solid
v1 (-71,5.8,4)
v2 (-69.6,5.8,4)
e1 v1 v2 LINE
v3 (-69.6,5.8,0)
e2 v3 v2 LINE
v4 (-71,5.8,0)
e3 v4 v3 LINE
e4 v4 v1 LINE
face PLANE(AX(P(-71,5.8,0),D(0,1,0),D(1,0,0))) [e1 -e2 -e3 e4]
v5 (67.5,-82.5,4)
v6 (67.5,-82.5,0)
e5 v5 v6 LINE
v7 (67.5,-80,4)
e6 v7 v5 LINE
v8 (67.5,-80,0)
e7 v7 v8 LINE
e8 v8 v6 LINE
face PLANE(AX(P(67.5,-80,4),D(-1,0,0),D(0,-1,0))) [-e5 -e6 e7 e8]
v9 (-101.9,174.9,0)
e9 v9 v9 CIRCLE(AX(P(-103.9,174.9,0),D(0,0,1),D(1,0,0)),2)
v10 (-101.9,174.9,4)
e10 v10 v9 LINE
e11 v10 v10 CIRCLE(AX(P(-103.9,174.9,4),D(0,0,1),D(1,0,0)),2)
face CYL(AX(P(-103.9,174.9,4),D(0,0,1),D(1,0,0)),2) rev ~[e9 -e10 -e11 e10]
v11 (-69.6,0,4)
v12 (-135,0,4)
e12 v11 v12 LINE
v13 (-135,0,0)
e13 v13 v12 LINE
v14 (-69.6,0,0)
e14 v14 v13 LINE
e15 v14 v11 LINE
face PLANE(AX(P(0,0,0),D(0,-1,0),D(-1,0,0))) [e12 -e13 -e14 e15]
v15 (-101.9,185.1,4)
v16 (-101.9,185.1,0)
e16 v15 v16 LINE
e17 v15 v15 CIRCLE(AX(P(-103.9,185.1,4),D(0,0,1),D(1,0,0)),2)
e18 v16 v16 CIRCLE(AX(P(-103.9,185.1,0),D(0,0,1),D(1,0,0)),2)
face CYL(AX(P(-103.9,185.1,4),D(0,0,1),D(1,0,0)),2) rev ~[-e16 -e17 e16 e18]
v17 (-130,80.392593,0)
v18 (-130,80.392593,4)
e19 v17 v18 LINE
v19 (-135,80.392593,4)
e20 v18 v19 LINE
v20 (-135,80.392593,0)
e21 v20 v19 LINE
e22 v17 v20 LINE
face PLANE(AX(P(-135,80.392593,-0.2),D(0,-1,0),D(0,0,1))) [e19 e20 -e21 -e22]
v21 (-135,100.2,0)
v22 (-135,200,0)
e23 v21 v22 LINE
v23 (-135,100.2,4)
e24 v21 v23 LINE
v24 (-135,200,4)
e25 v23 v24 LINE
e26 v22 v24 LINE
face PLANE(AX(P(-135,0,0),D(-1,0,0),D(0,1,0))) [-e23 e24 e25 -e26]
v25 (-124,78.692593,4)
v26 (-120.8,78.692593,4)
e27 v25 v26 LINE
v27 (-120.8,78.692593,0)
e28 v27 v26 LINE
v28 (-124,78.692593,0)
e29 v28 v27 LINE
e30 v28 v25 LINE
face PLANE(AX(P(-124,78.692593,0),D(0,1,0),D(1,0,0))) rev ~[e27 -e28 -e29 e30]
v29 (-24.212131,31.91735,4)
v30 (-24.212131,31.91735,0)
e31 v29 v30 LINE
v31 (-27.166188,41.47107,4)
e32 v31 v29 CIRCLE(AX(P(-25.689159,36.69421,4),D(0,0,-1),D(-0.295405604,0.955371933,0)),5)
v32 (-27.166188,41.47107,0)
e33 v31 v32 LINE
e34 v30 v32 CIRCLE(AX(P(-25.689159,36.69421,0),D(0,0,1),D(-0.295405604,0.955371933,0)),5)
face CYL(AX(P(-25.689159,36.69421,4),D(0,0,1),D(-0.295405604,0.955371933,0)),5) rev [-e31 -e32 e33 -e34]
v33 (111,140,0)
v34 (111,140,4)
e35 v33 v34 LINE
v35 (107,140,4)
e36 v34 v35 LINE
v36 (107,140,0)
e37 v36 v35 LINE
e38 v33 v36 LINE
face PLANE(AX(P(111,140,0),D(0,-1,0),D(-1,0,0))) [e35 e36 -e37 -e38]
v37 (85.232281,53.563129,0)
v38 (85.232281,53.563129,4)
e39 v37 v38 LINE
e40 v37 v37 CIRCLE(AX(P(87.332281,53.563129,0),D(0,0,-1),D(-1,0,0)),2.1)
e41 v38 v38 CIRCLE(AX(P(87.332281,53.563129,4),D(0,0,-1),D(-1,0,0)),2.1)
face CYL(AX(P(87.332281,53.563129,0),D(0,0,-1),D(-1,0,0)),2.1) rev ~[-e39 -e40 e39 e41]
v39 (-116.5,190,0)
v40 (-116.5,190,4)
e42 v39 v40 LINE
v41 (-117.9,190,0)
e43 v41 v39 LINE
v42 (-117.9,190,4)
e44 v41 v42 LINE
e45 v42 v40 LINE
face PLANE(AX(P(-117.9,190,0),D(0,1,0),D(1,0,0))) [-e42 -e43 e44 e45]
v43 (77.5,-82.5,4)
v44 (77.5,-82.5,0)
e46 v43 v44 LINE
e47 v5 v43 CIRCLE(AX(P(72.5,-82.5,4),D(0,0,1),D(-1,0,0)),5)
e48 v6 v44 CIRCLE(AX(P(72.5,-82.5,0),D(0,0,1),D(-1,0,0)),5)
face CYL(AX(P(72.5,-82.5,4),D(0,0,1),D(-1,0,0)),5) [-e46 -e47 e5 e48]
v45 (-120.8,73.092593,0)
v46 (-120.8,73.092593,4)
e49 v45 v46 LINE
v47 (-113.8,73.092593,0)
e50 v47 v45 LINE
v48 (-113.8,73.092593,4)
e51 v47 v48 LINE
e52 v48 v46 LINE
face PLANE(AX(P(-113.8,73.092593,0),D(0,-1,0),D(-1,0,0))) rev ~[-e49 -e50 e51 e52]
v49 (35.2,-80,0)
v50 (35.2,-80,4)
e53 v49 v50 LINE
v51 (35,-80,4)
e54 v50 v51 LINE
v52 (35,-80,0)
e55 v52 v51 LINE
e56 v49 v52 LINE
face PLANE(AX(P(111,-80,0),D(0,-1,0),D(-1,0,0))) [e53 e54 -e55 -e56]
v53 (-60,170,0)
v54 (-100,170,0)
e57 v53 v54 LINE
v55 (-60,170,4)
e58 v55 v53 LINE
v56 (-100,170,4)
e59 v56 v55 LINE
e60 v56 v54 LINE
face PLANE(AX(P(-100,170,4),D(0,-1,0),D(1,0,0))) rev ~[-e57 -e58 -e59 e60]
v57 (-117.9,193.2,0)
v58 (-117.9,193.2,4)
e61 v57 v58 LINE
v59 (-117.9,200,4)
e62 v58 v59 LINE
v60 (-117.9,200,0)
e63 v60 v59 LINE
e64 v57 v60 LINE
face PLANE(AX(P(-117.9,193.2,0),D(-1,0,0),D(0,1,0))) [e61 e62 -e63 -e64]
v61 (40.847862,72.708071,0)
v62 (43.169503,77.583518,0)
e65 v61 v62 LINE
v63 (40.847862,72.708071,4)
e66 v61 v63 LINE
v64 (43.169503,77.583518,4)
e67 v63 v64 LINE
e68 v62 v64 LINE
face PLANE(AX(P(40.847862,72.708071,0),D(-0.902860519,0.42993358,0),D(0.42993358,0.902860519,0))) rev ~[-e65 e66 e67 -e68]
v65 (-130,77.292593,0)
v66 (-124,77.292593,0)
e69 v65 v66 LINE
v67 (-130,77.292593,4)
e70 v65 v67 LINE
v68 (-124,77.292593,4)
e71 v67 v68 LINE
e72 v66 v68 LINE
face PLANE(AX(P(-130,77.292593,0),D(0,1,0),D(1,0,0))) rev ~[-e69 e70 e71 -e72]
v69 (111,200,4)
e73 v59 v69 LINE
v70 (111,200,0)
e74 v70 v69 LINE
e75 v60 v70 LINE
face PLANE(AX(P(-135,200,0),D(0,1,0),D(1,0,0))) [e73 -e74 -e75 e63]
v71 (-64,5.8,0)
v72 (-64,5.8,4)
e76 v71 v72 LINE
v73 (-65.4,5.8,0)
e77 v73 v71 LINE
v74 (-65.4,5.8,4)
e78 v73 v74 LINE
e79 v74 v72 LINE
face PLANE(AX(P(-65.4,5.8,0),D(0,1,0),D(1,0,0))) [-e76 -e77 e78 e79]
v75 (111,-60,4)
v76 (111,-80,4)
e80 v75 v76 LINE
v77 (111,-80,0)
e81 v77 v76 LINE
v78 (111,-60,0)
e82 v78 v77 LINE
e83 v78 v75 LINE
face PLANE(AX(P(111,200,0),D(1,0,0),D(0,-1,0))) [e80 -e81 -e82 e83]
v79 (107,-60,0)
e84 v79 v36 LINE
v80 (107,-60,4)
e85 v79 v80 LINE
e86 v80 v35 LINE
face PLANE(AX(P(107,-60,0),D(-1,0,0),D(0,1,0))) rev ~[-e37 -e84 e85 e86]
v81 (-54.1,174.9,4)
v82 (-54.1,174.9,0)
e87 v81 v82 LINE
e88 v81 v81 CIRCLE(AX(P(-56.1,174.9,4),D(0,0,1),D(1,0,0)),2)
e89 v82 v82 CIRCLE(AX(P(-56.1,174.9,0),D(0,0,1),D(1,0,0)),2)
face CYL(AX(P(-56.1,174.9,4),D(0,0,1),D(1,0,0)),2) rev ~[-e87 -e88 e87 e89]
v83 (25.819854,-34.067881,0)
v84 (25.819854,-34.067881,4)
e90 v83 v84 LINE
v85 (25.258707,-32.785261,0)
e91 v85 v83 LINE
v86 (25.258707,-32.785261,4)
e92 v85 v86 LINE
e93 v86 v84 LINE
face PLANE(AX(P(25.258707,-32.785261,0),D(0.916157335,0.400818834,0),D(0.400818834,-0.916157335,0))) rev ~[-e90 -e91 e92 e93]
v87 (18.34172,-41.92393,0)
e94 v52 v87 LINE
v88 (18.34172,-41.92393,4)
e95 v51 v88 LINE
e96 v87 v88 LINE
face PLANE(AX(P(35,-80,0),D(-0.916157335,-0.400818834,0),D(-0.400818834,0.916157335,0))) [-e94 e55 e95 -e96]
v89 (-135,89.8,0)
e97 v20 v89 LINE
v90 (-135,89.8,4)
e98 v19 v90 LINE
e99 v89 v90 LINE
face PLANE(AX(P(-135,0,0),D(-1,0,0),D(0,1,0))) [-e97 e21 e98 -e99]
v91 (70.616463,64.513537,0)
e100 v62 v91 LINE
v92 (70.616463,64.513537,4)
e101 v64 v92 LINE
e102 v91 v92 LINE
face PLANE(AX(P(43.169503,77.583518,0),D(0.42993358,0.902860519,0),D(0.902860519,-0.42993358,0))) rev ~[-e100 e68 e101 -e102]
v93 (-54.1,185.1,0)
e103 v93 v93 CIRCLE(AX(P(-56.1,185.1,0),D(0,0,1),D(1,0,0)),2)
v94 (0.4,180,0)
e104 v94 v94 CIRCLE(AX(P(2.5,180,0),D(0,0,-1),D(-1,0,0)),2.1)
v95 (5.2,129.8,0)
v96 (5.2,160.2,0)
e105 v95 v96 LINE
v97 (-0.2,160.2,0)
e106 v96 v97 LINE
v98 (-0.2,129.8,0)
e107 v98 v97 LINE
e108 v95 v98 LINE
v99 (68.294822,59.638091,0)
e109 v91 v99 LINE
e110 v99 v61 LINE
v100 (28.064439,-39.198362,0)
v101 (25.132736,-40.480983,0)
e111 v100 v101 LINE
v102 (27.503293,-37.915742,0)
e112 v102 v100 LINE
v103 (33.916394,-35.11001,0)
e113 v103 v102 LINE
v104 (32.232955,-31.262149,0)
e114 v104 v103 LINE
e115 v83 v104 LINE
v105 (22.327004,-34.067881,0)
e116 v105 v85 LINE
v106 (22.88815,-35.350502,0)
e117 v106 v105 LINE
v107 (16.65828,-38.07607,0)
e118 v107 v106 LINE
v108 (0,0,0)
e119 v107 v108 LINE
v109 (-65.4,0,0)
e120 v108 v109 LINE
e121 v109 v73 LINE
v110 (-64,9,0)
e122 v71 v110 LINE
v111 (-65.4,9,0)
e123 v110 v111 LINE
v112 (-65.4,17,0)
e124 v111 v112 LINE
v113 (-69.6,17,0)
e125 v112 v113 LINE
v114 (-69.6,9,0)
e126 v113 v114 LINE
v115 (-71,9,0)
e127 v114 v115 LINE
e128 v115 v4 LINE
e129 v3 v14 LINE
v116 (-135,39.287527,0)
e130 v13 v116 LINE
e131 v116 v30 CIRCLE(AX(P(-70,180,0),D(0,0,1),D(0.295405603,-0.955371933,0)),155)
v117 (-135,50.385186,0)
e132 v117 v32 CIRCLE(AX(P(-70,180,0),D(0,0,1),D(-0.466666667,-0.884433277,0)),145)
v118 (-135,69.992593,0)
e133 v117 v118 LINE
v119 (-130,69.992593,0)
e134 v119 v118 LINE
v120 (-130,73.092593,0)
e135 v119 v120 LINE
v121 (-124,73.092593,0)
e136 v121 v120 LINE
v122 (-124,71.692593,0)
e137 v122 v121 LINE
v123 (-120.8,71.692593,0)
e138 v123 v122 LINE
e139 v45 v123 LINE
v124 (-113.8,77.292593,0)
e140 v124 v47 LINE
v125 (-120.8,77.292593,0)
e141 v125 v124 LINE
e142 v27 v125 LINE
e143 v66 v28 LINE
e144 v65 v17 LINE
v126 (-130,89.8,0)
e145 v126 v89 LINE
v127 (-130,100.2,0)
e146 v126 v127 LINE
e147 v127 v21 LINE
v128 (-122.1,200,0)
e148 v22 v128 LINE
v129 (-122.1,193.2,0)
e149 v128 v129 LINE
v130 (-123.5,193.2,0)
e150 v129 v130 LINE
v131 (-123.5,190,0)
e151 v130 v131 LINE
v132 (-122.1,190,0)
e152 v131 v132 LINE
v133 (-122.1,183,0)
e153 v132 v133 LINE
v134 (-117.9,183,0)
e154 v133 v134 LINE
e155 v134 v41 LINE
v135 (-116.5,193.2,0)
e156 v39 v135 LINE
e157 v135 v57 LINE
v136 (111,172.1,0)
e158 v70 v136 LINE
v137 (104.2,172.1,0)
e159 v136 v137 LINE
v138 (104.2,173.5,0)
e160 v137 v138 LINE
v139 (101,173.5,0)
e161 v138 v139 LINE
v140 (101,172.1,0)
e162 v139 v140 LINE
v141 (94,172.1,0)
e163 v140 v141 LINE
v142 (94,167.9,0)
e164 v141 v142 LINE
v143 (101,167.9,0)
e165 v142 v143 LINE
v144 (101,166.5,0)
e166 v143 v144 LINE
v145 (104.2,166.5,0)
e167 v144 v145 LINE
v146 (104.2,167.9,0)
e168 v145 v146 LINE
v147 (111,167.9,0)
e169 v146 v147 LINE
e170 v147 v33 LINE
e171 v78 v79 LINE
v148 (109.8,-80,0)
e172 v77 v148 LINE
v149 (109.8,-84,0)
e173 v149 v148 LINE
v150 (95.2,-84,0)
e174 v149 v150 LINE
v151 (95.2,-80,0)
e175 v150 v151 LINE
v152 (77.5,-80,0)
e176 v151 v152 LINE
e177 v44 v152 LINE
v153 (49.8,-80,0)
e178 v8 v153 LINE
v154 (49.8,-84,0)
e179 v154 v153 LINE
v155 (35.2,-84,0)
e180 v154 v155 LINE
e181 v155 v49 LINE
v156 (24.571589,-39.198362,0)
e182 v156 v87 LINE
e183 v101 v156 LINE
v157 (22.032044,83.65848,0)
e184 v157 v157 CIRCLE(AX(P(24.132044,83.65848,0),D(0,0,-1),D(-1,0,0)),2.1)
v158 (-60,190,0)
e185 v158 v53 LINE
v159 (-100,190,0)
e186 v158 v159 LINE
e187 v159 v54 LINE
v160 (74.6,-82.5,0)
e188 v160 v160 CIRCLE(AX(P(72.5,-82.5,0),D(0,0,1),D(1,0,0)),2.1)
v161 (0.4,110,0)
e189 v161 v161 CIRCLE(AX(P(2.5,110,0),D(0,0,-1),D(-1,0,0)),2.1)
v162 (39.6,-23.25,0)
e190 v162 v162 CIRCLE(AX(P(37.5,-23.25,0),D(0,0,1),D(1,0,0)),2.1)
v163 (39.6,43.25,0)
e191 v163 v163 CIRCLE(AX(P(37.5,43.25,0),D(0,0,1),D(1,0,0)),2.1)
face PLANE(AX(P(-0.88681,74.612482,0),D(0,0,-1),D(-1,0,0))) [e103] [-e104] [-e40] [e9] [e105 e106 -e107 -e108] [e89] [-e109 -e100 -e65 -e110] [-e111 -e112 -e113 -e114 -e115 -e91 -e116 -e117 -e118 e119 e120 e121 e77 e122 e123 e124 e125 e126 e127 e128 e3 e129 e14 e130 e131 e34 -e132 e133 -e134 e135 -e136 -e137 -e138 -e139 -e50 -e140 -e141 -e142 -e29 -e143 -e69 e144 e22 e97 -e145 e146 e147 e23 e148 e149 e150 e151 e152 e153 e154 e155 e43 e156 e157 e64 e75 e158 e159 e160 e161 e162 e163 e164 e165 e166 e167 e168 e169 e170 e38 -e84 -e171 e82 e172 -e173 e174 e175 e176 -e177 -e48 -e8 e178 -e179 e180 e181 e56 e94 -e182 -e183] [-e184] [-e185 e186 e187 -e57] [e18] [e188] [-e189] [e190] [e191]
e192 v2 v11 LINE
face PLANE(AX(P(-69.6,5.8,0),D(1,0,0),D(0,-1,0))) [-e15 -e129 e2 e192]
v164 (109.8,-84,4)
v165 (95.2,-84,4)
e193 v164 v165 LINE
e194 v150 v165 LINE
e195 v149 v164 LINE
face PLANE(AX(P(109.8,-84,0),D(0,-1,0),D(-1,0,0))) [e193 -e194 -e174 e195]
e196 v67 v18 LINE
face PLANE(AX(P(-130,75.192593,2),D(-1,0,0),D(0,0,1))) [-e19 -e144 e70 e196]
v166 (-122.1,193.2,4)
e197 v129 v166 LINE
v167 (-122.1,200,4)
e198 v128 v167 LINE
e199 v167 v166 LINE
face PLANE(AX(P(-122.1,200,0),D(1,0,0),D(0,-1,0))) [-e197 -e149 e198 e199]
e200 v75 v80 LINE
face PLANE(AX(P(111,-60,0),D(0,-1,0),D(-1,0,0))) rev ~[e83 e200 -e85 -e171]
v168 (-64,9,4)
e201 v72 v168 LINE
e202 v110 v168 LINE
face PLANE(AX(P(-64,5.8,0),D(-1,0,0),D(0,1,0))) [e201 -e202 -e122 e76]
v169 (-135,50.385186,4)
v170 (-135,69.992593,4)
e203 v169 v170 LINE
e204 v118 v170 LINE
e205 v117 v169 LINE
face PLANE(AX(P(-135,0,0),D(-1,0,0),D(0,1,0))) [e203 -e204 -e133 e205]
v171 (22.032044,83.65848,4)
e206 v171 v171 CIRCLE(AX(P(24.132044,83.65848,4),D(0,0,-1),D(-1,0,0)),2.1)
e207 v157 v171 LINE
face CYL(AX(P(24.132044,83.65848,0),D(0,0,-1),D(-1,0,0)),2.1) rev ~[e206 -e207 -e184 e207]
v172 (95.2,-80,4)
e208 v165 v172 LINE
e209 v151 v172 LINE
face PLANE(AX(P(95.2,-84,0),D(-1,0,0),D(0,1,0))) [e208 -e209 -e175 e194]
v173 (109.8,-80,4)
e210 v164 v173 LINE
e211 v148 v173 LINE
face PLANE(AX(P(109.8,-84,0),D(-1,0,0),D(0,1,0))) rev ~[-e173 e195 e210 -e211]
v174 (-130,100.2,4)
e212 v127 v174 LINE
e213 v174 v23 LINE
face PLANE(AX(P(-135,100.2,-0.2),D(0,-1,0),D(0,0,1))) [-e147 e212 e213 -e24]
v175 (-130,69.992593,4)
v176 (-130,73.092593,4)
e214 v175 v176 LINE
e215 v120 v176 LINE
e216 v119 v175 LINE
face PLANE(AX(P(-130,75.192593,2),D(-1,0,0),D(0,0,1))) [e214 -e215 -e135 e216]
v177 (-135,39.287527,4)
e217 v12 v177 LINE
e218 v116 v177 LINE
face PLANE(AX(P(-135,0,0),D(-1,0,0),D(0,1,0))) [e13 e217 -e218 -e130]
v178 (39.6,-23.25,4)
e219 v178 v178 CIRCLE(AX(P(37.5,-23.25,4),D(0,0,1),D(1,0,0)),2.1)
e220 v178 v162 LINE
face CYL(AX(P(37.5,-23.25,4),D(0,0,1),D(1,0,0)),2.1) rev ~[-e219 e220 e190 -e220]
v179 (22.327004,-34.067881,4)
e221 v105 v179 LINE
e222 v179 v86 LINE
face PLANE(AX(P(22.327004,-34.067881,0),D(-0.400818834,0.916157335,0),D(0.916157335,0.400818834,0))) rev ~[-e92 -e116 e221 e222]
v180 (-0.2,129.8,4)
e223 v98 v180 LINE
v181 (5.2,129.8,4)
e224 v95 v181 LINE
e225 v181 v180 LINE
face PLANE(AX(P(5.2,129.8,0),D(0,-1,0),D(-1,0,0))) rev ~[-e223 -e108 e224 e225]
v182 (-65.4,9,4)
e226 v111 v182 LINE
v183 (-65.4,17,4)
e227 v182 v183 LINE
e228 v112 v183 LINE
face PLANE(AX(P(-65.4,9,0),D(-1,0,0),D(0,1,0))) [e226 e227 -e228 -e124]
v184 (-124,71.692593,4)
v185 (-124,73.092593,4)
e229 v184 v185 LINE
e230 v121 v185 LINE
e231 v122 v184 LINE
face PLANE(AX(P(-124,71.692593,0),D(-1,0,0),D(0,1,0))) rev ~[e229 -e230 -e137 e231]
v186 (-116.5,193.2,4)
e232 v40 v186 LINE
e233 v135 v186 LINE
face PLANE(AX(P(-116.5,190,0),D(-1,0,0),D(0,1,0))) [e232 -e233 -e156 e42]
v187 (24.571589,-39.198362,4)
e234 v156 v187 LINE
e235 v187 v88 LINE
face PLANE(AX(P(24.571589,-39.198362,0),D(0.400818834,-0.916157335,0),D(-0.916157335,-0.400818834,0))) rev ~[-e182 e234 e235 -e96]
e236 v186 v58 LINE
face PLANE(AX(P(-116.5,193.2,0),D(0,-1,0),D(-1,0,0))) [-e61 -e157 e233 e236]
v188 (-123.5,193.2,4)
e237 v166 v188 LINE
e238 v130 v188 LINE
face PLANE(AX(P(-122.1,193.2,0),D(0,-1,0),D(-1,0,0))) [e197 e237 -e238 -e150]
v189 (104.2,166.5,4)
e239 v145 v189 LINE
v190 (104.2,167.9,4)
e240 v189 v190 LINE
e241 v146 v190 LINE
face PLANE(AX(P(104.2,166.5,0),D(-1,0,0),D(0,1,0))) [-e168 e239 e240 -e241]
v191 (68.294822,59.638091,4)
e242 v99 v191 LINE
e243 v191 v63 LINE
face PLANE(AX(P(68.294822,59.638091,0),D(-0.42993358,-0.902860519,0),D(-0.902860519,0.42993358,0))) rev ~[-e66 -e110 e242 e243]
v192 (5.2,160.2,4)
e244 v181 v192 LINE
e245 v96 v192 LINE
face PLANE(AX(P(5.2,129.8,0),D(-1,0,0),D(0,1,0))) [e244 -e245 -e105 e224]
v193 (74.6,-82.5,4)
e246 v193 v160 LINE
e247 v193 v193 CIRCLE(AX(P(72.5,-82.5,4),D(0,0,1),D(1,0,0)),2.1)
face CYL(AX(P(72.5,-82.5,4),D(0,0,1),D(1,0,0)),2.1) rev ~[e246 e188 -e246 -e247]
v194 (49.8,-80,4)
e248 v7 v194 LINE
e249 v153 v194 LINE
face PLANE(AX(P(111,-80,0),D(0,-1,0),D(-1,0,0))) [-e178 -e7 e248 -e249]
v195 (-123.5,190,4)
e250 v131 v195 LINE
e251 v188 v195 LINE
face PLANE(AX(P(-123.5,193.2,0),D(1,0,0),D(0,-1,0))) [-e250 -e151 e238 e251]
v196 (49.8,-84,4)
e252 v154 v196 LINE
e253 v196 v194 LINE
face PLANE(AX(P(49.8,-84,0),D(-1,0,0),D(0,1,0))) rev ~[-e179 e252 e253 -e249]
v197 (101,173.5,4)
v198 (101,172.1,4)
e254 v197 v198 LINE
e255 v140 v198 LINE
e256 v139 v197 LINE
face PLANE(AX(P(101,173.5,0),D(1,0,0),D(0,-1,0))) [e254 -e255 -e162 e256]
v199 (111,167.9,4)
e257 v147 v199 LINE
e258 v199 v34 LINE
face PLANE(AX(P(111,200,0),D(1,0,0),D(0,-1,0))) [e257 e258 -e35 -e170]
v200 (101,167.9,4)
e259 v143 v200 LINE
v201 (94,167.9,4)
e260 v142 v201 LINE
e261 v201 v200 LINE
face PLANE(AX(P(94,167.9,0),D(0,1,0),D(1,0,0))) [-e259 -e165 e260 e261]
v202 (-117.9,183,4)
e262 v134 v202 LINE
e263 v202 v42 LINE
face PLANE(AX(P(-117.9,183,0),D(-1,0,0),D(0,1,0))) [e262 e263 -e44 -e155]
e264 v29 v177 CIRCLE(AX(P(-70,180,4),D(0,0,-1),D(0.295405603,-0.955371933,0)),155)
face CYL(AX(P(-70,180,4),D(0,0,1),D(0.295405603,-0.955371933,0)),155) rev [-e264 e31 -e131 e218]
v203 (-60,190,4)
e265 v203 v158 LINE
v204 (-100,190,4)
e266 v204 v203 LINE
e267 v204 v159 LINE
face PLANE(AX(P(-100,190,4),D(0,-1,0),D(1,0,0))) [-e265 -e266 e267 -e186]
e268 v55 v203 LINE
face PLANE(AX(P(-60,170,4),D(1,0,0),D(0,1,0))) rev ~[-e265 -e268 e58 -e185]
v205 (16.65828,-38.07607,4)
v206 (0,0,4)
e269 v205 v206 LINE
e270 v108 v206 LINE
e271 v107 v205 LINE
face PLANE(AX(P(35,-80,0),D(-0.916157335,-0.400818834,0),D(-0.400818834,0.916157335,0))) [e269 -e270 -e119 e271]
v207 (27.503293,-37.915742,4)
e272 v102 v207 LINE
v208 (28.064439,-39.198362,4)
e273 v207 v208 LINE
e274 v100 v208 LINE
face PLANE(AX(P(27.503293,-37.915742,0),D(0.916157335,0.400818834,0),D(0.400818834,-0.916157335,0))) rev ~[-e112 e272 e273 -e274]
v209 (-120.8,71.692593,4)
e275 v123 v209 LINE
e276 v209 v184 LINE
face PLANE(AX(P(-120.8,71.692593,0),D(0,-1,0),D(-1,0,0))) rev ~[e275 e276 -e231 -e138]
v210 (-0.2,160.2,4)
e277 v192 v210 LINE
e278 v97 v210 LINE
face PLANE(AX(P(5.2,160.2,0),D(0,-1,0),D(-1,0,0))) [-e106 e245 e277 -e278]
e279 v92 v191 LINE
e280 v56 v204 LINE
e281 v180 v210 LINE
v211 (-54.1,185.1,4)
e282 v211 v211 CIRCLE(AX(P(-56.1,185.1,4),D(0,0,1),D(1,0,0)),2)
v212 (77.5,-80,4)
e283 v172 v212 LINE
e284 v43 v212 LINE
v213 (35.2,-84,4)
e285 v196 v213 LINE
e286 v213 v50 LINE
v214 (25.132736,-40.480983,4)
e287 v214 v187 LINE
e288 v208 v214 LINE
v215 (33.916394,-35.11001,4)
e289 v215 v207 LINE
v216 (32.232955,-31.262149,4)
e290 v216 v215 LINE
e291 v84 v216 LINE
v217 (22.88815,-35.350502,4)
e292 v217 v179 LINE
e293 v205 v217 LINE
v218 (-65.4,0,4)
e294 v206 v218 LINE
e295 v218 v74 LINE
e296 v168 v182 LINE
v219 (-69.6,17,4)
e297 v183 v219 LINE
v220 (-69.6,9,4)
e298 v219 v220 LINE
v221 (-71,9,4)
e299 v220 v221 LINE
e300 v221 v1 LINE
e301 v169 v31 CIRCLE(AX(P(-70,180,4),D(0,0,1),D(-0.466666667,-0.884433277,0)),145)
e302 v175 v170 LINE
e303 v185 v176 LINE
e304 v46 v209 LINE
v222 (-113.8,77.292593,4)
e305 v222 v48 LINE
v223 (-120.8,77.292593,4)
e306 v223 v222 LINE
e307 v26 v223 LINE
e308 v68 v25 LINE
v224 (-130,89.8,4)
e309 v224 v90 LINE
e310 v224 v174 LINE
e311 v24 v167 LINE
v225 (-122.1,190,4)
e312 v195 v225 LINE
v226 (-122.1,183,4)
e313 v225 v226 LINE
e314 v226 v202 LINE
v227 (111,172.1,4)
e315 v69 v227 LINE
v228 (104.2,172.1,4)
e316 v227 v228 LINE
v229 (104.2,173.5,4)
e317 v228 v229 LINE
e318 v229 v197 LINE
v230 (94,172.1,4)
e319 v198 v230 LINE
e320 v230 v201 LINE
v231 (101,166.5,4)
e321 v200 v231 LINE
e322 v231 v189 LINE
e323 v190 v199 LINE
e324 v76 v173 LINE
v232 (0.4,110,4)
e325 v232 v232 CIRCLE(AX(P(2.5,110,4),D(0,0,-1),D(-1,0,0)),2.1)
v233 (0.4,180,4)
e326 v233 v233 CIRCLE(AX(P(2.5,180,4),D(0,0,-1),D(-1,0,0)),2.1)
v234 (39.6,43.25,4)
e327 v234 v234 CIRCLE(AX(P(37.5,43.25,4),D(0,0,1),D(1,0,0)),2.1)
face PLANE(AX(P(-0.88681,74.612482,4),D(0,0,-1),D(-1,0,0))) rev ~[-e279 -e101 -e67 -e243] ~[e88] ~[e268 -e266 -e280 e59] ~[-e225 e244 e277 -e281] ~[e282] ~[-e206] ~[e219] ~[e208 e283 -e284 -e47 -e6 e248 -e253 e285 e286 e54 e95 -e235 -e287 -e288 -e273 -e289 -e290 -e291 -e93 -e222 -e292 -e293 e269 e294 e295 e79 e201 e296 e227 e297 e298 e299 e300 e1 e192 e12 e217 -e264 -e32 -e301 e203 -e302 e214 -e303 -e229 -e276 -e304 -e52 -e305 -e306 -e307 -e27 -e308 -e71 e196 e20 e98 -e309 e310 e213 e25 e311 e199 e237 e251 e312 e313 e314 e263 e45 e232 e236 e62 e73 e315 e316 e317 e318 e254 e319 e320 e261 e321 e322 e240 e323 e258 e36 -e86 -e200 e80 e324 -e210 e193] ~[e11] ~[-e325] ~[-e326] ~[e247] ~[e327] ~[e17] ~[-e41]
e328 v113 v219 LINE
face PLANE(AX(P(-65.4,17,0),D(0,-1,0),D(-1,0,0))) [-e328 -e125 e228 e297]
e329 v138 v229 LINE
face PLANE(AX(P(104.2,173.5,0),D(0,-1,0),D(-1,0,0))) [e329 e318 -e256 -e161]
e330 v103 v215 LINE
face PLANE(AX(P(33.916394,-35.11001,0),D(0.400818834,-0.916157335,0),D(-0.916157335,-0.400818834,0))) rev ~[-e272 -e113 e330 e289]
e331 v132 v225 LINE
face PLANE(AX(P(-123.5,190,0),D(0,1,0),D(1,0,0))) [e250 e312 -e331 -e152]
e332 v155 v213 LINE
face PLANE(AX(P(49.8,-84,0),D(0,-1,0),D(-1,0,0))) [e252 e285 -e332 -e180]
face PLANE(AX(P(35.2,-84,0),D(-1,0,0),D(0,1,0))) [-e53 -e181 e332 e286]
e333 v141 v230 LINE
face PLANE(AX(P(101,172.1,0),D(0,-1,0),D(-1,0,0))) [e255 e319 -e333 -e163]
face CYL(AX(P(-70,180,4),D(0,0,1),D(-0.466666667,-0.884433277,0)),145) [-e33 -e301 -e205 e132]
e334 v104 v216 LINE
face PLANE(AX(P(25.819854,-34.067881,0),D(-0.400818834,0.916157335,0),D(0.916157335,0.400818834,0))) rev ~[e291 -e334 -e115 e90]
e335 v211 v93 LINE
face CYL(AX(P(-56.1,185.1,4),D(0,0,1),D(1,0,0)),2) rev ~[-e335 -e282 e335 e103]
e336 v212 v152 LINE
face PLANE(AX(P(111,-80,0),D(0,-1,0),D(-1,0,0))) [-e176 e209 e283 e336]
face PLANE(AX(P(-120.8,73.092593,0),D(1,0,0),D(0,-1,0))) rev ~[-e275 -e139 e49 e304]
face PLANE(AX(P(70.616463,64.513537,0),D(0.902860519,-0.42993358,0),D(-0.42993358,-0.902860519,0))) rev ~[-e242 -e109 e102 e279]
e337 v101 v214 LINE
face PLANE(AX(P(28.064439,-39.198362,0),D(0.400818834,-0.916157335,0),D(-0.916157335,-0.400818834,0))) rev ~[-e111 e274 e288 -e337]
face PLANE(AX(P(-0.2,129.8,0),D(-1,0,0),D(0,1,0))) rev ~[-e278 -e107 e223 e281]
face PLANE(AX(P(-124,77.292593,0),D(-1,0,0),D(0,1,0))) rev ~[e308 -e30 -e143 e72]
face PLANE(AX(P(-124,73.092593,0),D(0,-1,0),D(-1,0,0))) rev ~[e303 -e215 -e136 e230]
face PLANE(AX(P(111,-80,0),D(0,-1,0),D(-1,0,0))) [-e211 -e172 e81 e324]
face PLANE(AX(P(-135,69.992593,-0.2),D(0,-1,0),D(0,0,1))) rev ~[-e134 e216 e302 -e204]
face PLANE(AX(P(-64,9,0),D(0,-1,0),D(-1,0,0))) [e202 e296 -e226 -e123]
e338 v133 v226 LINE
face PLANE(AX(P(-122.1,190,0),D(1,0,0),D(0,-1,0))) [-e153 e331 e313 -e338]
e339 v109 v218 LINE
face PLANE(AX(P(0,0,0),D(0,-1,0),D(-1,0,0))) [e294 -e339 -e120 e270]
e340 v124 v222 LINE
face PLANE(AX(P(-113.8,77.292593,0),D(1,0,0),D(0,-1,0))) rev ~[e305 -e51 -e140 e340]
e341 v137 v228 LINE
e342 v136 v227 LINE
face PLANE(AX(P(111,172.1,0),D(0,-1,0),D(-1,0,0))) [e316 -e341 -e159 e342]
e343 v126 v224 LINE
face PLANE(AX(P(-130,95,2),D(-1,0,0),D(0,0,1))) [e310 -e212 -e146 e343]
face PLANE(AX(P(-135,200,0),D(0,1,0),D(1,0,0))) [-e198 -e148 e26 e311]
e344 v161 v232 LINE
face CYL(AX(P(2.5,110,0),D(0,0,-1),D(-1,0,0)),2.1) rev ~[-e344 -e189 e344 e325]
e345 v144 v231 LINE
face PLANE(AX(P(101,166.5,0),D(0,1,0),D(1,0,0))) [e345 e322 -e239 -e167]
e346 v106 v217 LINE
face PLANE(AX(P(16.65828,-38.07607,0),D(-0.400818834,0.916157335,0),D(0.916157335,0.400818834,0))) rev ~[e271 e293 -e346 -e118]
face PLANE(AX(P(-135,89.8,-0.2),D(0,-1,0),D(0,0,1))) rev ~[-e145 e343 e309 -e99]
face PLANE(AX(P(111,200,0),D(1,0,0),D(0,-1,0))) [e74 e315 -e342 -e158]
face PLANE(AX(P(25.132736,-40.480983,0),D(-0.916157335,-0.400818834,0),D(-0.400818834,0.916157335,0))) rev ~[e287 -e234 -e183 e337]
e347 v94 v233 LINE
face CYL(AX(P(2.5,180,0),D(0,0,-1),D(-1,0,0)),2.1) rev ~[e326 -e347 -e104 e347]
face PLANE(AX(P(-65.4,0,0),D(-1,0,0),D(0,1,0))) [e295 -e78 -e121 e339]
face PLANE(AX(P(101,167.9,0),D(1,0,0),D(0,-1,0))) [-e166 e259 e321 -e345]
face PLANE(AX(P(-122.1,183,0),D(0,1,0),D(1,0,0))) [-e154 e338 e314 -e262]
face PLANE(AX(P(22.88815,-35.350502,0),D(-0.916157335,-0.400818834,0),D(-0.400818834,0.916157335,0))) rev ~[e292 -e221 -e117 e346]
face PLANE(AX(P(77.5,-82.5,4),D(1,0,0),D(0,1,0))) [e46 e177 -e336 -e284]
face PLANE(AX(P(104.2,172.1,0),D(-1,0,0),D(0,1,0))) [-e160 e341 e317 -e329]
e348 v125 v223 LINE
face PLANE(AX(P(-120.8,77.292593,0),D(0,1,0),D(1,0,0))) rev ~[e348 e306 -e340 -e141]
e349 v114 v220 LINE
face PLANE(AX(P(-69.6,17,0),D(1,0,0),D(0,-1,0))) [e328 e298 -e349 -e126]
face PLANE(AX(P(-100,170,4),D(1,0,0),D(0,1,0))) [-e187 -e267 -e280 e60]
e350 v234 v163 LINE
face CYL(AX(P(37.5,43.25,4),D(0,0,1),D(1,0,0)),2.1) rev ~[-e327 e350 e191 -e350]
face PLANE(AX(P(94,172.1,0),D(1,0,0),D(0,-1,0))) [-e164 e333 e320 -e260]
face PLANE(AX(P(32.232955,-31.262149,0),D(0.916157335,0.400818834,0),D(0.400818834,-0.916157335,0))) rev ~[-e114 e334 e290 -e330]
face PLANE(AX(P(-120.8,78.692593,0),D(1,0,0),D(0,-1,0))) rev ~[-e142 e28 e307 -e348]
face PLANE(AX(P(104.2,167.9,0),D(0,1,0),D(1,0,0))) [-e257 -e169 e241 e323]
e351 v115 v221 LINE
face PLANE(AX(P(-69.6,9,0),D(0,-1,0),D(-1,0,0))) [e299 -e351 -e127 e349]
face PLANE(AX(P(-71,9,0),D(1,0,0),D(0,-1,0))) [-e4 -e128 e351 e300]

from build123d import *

# Parameters (mm, degrees)
BOSS_EXTRU_1_DEPTH       = 4
ENL_V_MAT_EXTRU_3_DEPTH  = 10
ESQUISSE3_R              = 2
ESQUISSE3_W              = 40
ESQUISSE3_H              = 20
ENL_V_MAT_EXTRU_4_DEPTH  = 242.33172191
ESQUISSE4_W              = 4
ESQUISSE4_H              = 200
ENL_V_MAT_EXTRU_5_DEPTH  = 242.33172191
ESQUISSE5_R              = 2.1
ENL_V_MAT_EXTRU_6_DEPTH  = 242.33172191
ESQUISSE8_W              = 5.4
ESQUISSE8_H              = 30.4
ENL_V_MAT_EXTRU_8_DEPTH  = 242.33172191
ESQUISSE10_W             = 4.4
ESQUISSE10_H             = 10.4
ENL_V_MAT_EXTRU_9_DEPTH  = 5
ESQUISSE12_R             = 2.1
BOSS_EXTRU_2_DEPTH       = 4
ESQUISSE14_W             = 14.6
ESQUISSE14_H             = 4
BOSS_EXTRU_3_DEPTH       = 4
ENL_V_MAT_EXTRU_11_DEPTH = 242.33172191
ENL_V_MAT_EXTRU_12_DEPTH = 242.33172191
ENL_V_MAT_EXTRU_13_DEPTH = 242.33172191
ENL_V_MAT_EXTRU_14_DEPTH = 242.33172191
ESQUISSE19_R             = 2.1
ENL_V_MAT_EXTRU_15_DEPTH = 242.33172191
ENL_V_MAT_EXTRU_16_DEPTH = 242.33172191


with BuildPart() as part:
    # Esquisse1 → Boss.-Extru.1 (new body)
    with BuildSketch(Plane.XY):
        Polygon((0, 0), (-135, 0), (-135, 200), (111, 200), (111, -80), (35, -80), align=None)
    extrude(amount=BOSS_EXTRU_1_DEPTH)

    # Esquisse2 → Enl_v. mat.-Extru.3 (cut)
    with BuildSketch(Plane(origin=(-100, 38, 4), x_dir=(-1, 0, 0), z_dir=(0, 0, -1))):
        with BuildLine():
            ThreePointArc((-75.787868531, -6.082649542), (-15.633697972, -12.332787722), (42.333333333, 4.912841999))
            ThreePointArc((42.333333333, 4.912841999), (44.422166387, 11.668341719), (37.666666667, 13.757174773))
            ThreePointArc((37.666666667, 13.757174773), (-16.560556167, -2.375833675), (-72.833812496, 3.471069783))
            ThreePointArc((-72.833812496, 3.471069783), (-79.087700176, 0.171238138), (-75.787868531, -6.082649542))
        make_face()
    extrude(amount=ENL_V_MAT_EXTRU_3_DEPTH, mode=Mode.SUBTRACT)

    # Esquisse3 → Enl_v. mat.-Extru.4 (cut, through all)
    with BuildSketch(Plane.XY.offset(4)):
        with Locations((-103.9, 185.1)):
            Circle(ESQUISSE3_R)
        with Locations((-103.9, 174.9)):
            Circle(ESQUISSE3_R)
        with Locations((-56.1, 185.1)):
            Circle(ESQUISSE3_R)
        with Locations((-56.1, 174.9)):
            Circle(ESQUISSE3_R)
        with Locations((-80, 180)):
            Rectangle(ESQUISSE3_W, ESQUISSE3_H)
    extrude(amount=-ENL_V_MAT_EXTRU_4_DEPTH, mode=Mode.SUBTRACT)

    # Esquisse4 → Enl_v. mat.-Extru.5 (cut, through all)
    with BuildSketch(Plane(origin=(0, 0, 0), x_dir=(-1, 0, 0), z_dir=(0, 0, -1))):
        with Locations((-109, 40)):
            Rectangle(ESQUISSE4_W, ESQUISSE4_H)
    extrude(amount=-ENL_V_MAT_EXTRU_5_DEPTH, mode=Mode.SUBTRACT)

    # Esquisse5 → Enl_v. mat.-Extru.6 (cut, through all)
    with BuildSketch(Plane(origin=(0, 0, 0), x_dir=(-1, 0, 0), z_dir=(0, 0, -1))):
        with Locations((-2.5, 180)):
            Circle(ESQUISSE5_R)
        with Locations((-2.5, 110)):
            Circle(ESQUISSE5_R)
        with Locations((-24.132044328, 83.658479689)):
            Circle(ESQUISSE5_R)
        with Locations((-87.332280645, 53.563129062)):
            Circle(ESQUISSE5_R)
    extrude(amount=-ENL_V_MAT_EXTRU_6_DEPTH, mode=Mode.SUBTRACT)

    # Esquisse8 → Enl_v. mat.-Extru.8 (cut, through all)
    with BuildSketch(Plane(origin=(0, 0, 0), x_dir=(-1, 0, 0), z_dir=(0, 0, -1))):
        Polygon((-40.847861933, 72.708071397), (-43.169503267, 77.583518198), (-70.616463039, 64.513537354), (-68.294821705, 59.638090553), align=None)
        with Locations((-2.5, 145)):
            Rectangle(ESQUISSE8_W, ESQUISSE8_H)
    extrude(amount=-ENL_V_MAT_EXTRU_8_DEPTH, mode=Mode.SUBTRACT)

    # Esquisse10 → Enl_v. mat.-Extru.9 (cut)
    with BuildSketch(Plane.ZY.offset(135)):
        with Locations((2, 95)):
            Rectangle(ESQUISSE10_W, ESQUISSE10_H)
        with Locations((2, 75.192593016)):
            Rectangle(ESQUISSE10_W, ESQUISSE10_H)
    extrude(amount=-ENL_V_MAT_EXTRU_9_DEPTH, mode=Mode.SUBTRACT)

    # Esquisse12 → Boss.-Extru.2 (add)
    with BuildSketch(Plane.XY.offset(4)):
        with BuildLine():
            Line((67.5, -80), (67.5, -82.5))
            ThreePointArc((67.5, -82.5), (72.5, -87.5), (77.5, -82.5))
            Line((77.5, -82.5), (77.5, -80))
            Line((77.5, -80), (67.5, -80))
        make_face()
        with Locations((72.5, -82.5)):
            Circle(ESQUISSE12_R, mode=Mode.SUBTRACT)
    extrude(amount=-BOSS_EXTRU_2_DEPTH)

    # Esquisse14 → Boss.-Extru.3 (add)
    with BuildSketch(Plane(origin=(0, 0, 0), x_dir=(-1, 0, 0), z_dir=(0, 0, -1))):
        with Locations((-42.5, -82)):
            Rectangle(ESQUISSE14_W, ESQUISSE14_H)
        with Locations((-102.5, -82)):
            Rectangle(ESQUISSE14_W, ESQUISSE14_H)
    extrude(amount=-BOSS_EXTRU_3_DEPTH)

    # Esquisse15 → Enl_v. mat.-Extru.11 (cut, through all)
    with BuildSketch(Plane(origin=(0, 0, 0), x_dir=(-1, 0, 0), z_dir=(0, 0, -1))):
        Polygon((-18.341719551, -41.923930403), (-16.658280449, -38.076069597), (-22.888150326, -35.350501525), (-22.327003958, -34.067881257), (-25.25870743, -32.785260988), (-25.819853798, -34.067881257), (-32.232955142, -31.262149418), (-33.916394245, -35.110010225), (-27.5032929, -37.915742063), (-28.064439268, -39.198362332), (-25.132735796, -40.480982601), (-24.571589429, -39.198362332), align=None)
    extrude(amount=-ENL_V_MAT_EXTRU_11_DEPTH, mode=Mode.SUBTRACT)

    # Esquisse16 → Enl_v. mat.-Extru.12 (cut, through all)
    with BuildSketch(Plane(origin=(0, 0, 0), x_dir=(-1, 0, 0), z_dir=(0, 0, -1))):
        Polygon((-111, 167.9), (-111, 172.1), (-104.2, 172.1), (-104.2, 173.5), (-101, 173.5), (-101, 172.1), (-94, 172.1), (-94, 167.9), (-101, 167.9), (-101, 166.5), (-104.2, 166.5), (-104.2, 167.9), align=None)
    extrude(amount=-ENL_V_MAT_EXTRU_12_DEPTH, mode=Mode.SUBTRACT)

    # Esquisse17 → Enl_v. mat.-Extru.13 (cut, through all)
    with BuildSketch(Plane(origin=(0, 0, 0), x_dir=(-1, 0, 0), z_dir=(0, 0, -1))):
        Polygon((69.6, 0), (65.4, 0), (65.4, 5.8), (64, 5.8), (64, 9), (65.4, 9), (65.4, 17), (69.6, 17), (69.6, 9), (71, 9), (71, 5.8), (69.6, 5.8), align=None)
    extrude(amount=-ENL_V_MAT_EXTRU_13_DEPTH, mode=Mode.SUBTRACT)

    # Esquisse18 → Enl_v. mat.-Extru.14 (cut, through all)
    with BuildSketch(Plane(origin=(0, 0, 0), x_dir=(-1, 0, 0), z_dir=(0, 0, -1))):
        Polygon((117.9, 200), (122.1, 200), (122.1, 193.2), (123.5, 193.2), (123.5, 190), (122.1, 190), (122.1, 183), (117.9, 183), (117.9, 190), (116.5, 190), (116.5, 193.2), (117.9, 193.2), align=None)
    extrude(amount=-ENL_V_MAT_EXTRU_14_DEPTH, mode=Mode.SUBTRACT)

    # Esquisse19 → Enl_v. mat.-Extru.15 (cut, through all)
    with BuildSketch(Plane.XY.offset(4)):
        with Locations((37.5, -23.25)):
            Circle(ESQUISSE19_R)
        with Locations((37.5, 43.25)):
            Circle(ESQUISSE19_R)
    extrude(amount=-ENL_V_MAT_EXTRU_15_DEPTH, mode=Mode.SUBTRACT)

    # Esquisse20 → Enl_v. mat.-Extru.16 (cut, through all)
    with BuildSketch(Plane(origin=(0, 0, 0), x_dir=(-1, 0, 0), z_dir=(0, 0, -1))):
        Polygon((130, 73.092593016), (130, 77.292593016), (124, 77.292593016), (124, 78.692593016), (120.8, 78.692593016), (120.8, 77.292593016), (113.8, 77.292593016), (113.8, 73.092593016), (120.8, 73.092593016), (120.8, 71.692593016), (124, 71.692593016), (124, 73.092593016), align=None)
    extrude(amount=-ENL_V_MAT_EXTRU_16_DEPTH, mode=Mode.SUBTRACT)


solid = part.part
